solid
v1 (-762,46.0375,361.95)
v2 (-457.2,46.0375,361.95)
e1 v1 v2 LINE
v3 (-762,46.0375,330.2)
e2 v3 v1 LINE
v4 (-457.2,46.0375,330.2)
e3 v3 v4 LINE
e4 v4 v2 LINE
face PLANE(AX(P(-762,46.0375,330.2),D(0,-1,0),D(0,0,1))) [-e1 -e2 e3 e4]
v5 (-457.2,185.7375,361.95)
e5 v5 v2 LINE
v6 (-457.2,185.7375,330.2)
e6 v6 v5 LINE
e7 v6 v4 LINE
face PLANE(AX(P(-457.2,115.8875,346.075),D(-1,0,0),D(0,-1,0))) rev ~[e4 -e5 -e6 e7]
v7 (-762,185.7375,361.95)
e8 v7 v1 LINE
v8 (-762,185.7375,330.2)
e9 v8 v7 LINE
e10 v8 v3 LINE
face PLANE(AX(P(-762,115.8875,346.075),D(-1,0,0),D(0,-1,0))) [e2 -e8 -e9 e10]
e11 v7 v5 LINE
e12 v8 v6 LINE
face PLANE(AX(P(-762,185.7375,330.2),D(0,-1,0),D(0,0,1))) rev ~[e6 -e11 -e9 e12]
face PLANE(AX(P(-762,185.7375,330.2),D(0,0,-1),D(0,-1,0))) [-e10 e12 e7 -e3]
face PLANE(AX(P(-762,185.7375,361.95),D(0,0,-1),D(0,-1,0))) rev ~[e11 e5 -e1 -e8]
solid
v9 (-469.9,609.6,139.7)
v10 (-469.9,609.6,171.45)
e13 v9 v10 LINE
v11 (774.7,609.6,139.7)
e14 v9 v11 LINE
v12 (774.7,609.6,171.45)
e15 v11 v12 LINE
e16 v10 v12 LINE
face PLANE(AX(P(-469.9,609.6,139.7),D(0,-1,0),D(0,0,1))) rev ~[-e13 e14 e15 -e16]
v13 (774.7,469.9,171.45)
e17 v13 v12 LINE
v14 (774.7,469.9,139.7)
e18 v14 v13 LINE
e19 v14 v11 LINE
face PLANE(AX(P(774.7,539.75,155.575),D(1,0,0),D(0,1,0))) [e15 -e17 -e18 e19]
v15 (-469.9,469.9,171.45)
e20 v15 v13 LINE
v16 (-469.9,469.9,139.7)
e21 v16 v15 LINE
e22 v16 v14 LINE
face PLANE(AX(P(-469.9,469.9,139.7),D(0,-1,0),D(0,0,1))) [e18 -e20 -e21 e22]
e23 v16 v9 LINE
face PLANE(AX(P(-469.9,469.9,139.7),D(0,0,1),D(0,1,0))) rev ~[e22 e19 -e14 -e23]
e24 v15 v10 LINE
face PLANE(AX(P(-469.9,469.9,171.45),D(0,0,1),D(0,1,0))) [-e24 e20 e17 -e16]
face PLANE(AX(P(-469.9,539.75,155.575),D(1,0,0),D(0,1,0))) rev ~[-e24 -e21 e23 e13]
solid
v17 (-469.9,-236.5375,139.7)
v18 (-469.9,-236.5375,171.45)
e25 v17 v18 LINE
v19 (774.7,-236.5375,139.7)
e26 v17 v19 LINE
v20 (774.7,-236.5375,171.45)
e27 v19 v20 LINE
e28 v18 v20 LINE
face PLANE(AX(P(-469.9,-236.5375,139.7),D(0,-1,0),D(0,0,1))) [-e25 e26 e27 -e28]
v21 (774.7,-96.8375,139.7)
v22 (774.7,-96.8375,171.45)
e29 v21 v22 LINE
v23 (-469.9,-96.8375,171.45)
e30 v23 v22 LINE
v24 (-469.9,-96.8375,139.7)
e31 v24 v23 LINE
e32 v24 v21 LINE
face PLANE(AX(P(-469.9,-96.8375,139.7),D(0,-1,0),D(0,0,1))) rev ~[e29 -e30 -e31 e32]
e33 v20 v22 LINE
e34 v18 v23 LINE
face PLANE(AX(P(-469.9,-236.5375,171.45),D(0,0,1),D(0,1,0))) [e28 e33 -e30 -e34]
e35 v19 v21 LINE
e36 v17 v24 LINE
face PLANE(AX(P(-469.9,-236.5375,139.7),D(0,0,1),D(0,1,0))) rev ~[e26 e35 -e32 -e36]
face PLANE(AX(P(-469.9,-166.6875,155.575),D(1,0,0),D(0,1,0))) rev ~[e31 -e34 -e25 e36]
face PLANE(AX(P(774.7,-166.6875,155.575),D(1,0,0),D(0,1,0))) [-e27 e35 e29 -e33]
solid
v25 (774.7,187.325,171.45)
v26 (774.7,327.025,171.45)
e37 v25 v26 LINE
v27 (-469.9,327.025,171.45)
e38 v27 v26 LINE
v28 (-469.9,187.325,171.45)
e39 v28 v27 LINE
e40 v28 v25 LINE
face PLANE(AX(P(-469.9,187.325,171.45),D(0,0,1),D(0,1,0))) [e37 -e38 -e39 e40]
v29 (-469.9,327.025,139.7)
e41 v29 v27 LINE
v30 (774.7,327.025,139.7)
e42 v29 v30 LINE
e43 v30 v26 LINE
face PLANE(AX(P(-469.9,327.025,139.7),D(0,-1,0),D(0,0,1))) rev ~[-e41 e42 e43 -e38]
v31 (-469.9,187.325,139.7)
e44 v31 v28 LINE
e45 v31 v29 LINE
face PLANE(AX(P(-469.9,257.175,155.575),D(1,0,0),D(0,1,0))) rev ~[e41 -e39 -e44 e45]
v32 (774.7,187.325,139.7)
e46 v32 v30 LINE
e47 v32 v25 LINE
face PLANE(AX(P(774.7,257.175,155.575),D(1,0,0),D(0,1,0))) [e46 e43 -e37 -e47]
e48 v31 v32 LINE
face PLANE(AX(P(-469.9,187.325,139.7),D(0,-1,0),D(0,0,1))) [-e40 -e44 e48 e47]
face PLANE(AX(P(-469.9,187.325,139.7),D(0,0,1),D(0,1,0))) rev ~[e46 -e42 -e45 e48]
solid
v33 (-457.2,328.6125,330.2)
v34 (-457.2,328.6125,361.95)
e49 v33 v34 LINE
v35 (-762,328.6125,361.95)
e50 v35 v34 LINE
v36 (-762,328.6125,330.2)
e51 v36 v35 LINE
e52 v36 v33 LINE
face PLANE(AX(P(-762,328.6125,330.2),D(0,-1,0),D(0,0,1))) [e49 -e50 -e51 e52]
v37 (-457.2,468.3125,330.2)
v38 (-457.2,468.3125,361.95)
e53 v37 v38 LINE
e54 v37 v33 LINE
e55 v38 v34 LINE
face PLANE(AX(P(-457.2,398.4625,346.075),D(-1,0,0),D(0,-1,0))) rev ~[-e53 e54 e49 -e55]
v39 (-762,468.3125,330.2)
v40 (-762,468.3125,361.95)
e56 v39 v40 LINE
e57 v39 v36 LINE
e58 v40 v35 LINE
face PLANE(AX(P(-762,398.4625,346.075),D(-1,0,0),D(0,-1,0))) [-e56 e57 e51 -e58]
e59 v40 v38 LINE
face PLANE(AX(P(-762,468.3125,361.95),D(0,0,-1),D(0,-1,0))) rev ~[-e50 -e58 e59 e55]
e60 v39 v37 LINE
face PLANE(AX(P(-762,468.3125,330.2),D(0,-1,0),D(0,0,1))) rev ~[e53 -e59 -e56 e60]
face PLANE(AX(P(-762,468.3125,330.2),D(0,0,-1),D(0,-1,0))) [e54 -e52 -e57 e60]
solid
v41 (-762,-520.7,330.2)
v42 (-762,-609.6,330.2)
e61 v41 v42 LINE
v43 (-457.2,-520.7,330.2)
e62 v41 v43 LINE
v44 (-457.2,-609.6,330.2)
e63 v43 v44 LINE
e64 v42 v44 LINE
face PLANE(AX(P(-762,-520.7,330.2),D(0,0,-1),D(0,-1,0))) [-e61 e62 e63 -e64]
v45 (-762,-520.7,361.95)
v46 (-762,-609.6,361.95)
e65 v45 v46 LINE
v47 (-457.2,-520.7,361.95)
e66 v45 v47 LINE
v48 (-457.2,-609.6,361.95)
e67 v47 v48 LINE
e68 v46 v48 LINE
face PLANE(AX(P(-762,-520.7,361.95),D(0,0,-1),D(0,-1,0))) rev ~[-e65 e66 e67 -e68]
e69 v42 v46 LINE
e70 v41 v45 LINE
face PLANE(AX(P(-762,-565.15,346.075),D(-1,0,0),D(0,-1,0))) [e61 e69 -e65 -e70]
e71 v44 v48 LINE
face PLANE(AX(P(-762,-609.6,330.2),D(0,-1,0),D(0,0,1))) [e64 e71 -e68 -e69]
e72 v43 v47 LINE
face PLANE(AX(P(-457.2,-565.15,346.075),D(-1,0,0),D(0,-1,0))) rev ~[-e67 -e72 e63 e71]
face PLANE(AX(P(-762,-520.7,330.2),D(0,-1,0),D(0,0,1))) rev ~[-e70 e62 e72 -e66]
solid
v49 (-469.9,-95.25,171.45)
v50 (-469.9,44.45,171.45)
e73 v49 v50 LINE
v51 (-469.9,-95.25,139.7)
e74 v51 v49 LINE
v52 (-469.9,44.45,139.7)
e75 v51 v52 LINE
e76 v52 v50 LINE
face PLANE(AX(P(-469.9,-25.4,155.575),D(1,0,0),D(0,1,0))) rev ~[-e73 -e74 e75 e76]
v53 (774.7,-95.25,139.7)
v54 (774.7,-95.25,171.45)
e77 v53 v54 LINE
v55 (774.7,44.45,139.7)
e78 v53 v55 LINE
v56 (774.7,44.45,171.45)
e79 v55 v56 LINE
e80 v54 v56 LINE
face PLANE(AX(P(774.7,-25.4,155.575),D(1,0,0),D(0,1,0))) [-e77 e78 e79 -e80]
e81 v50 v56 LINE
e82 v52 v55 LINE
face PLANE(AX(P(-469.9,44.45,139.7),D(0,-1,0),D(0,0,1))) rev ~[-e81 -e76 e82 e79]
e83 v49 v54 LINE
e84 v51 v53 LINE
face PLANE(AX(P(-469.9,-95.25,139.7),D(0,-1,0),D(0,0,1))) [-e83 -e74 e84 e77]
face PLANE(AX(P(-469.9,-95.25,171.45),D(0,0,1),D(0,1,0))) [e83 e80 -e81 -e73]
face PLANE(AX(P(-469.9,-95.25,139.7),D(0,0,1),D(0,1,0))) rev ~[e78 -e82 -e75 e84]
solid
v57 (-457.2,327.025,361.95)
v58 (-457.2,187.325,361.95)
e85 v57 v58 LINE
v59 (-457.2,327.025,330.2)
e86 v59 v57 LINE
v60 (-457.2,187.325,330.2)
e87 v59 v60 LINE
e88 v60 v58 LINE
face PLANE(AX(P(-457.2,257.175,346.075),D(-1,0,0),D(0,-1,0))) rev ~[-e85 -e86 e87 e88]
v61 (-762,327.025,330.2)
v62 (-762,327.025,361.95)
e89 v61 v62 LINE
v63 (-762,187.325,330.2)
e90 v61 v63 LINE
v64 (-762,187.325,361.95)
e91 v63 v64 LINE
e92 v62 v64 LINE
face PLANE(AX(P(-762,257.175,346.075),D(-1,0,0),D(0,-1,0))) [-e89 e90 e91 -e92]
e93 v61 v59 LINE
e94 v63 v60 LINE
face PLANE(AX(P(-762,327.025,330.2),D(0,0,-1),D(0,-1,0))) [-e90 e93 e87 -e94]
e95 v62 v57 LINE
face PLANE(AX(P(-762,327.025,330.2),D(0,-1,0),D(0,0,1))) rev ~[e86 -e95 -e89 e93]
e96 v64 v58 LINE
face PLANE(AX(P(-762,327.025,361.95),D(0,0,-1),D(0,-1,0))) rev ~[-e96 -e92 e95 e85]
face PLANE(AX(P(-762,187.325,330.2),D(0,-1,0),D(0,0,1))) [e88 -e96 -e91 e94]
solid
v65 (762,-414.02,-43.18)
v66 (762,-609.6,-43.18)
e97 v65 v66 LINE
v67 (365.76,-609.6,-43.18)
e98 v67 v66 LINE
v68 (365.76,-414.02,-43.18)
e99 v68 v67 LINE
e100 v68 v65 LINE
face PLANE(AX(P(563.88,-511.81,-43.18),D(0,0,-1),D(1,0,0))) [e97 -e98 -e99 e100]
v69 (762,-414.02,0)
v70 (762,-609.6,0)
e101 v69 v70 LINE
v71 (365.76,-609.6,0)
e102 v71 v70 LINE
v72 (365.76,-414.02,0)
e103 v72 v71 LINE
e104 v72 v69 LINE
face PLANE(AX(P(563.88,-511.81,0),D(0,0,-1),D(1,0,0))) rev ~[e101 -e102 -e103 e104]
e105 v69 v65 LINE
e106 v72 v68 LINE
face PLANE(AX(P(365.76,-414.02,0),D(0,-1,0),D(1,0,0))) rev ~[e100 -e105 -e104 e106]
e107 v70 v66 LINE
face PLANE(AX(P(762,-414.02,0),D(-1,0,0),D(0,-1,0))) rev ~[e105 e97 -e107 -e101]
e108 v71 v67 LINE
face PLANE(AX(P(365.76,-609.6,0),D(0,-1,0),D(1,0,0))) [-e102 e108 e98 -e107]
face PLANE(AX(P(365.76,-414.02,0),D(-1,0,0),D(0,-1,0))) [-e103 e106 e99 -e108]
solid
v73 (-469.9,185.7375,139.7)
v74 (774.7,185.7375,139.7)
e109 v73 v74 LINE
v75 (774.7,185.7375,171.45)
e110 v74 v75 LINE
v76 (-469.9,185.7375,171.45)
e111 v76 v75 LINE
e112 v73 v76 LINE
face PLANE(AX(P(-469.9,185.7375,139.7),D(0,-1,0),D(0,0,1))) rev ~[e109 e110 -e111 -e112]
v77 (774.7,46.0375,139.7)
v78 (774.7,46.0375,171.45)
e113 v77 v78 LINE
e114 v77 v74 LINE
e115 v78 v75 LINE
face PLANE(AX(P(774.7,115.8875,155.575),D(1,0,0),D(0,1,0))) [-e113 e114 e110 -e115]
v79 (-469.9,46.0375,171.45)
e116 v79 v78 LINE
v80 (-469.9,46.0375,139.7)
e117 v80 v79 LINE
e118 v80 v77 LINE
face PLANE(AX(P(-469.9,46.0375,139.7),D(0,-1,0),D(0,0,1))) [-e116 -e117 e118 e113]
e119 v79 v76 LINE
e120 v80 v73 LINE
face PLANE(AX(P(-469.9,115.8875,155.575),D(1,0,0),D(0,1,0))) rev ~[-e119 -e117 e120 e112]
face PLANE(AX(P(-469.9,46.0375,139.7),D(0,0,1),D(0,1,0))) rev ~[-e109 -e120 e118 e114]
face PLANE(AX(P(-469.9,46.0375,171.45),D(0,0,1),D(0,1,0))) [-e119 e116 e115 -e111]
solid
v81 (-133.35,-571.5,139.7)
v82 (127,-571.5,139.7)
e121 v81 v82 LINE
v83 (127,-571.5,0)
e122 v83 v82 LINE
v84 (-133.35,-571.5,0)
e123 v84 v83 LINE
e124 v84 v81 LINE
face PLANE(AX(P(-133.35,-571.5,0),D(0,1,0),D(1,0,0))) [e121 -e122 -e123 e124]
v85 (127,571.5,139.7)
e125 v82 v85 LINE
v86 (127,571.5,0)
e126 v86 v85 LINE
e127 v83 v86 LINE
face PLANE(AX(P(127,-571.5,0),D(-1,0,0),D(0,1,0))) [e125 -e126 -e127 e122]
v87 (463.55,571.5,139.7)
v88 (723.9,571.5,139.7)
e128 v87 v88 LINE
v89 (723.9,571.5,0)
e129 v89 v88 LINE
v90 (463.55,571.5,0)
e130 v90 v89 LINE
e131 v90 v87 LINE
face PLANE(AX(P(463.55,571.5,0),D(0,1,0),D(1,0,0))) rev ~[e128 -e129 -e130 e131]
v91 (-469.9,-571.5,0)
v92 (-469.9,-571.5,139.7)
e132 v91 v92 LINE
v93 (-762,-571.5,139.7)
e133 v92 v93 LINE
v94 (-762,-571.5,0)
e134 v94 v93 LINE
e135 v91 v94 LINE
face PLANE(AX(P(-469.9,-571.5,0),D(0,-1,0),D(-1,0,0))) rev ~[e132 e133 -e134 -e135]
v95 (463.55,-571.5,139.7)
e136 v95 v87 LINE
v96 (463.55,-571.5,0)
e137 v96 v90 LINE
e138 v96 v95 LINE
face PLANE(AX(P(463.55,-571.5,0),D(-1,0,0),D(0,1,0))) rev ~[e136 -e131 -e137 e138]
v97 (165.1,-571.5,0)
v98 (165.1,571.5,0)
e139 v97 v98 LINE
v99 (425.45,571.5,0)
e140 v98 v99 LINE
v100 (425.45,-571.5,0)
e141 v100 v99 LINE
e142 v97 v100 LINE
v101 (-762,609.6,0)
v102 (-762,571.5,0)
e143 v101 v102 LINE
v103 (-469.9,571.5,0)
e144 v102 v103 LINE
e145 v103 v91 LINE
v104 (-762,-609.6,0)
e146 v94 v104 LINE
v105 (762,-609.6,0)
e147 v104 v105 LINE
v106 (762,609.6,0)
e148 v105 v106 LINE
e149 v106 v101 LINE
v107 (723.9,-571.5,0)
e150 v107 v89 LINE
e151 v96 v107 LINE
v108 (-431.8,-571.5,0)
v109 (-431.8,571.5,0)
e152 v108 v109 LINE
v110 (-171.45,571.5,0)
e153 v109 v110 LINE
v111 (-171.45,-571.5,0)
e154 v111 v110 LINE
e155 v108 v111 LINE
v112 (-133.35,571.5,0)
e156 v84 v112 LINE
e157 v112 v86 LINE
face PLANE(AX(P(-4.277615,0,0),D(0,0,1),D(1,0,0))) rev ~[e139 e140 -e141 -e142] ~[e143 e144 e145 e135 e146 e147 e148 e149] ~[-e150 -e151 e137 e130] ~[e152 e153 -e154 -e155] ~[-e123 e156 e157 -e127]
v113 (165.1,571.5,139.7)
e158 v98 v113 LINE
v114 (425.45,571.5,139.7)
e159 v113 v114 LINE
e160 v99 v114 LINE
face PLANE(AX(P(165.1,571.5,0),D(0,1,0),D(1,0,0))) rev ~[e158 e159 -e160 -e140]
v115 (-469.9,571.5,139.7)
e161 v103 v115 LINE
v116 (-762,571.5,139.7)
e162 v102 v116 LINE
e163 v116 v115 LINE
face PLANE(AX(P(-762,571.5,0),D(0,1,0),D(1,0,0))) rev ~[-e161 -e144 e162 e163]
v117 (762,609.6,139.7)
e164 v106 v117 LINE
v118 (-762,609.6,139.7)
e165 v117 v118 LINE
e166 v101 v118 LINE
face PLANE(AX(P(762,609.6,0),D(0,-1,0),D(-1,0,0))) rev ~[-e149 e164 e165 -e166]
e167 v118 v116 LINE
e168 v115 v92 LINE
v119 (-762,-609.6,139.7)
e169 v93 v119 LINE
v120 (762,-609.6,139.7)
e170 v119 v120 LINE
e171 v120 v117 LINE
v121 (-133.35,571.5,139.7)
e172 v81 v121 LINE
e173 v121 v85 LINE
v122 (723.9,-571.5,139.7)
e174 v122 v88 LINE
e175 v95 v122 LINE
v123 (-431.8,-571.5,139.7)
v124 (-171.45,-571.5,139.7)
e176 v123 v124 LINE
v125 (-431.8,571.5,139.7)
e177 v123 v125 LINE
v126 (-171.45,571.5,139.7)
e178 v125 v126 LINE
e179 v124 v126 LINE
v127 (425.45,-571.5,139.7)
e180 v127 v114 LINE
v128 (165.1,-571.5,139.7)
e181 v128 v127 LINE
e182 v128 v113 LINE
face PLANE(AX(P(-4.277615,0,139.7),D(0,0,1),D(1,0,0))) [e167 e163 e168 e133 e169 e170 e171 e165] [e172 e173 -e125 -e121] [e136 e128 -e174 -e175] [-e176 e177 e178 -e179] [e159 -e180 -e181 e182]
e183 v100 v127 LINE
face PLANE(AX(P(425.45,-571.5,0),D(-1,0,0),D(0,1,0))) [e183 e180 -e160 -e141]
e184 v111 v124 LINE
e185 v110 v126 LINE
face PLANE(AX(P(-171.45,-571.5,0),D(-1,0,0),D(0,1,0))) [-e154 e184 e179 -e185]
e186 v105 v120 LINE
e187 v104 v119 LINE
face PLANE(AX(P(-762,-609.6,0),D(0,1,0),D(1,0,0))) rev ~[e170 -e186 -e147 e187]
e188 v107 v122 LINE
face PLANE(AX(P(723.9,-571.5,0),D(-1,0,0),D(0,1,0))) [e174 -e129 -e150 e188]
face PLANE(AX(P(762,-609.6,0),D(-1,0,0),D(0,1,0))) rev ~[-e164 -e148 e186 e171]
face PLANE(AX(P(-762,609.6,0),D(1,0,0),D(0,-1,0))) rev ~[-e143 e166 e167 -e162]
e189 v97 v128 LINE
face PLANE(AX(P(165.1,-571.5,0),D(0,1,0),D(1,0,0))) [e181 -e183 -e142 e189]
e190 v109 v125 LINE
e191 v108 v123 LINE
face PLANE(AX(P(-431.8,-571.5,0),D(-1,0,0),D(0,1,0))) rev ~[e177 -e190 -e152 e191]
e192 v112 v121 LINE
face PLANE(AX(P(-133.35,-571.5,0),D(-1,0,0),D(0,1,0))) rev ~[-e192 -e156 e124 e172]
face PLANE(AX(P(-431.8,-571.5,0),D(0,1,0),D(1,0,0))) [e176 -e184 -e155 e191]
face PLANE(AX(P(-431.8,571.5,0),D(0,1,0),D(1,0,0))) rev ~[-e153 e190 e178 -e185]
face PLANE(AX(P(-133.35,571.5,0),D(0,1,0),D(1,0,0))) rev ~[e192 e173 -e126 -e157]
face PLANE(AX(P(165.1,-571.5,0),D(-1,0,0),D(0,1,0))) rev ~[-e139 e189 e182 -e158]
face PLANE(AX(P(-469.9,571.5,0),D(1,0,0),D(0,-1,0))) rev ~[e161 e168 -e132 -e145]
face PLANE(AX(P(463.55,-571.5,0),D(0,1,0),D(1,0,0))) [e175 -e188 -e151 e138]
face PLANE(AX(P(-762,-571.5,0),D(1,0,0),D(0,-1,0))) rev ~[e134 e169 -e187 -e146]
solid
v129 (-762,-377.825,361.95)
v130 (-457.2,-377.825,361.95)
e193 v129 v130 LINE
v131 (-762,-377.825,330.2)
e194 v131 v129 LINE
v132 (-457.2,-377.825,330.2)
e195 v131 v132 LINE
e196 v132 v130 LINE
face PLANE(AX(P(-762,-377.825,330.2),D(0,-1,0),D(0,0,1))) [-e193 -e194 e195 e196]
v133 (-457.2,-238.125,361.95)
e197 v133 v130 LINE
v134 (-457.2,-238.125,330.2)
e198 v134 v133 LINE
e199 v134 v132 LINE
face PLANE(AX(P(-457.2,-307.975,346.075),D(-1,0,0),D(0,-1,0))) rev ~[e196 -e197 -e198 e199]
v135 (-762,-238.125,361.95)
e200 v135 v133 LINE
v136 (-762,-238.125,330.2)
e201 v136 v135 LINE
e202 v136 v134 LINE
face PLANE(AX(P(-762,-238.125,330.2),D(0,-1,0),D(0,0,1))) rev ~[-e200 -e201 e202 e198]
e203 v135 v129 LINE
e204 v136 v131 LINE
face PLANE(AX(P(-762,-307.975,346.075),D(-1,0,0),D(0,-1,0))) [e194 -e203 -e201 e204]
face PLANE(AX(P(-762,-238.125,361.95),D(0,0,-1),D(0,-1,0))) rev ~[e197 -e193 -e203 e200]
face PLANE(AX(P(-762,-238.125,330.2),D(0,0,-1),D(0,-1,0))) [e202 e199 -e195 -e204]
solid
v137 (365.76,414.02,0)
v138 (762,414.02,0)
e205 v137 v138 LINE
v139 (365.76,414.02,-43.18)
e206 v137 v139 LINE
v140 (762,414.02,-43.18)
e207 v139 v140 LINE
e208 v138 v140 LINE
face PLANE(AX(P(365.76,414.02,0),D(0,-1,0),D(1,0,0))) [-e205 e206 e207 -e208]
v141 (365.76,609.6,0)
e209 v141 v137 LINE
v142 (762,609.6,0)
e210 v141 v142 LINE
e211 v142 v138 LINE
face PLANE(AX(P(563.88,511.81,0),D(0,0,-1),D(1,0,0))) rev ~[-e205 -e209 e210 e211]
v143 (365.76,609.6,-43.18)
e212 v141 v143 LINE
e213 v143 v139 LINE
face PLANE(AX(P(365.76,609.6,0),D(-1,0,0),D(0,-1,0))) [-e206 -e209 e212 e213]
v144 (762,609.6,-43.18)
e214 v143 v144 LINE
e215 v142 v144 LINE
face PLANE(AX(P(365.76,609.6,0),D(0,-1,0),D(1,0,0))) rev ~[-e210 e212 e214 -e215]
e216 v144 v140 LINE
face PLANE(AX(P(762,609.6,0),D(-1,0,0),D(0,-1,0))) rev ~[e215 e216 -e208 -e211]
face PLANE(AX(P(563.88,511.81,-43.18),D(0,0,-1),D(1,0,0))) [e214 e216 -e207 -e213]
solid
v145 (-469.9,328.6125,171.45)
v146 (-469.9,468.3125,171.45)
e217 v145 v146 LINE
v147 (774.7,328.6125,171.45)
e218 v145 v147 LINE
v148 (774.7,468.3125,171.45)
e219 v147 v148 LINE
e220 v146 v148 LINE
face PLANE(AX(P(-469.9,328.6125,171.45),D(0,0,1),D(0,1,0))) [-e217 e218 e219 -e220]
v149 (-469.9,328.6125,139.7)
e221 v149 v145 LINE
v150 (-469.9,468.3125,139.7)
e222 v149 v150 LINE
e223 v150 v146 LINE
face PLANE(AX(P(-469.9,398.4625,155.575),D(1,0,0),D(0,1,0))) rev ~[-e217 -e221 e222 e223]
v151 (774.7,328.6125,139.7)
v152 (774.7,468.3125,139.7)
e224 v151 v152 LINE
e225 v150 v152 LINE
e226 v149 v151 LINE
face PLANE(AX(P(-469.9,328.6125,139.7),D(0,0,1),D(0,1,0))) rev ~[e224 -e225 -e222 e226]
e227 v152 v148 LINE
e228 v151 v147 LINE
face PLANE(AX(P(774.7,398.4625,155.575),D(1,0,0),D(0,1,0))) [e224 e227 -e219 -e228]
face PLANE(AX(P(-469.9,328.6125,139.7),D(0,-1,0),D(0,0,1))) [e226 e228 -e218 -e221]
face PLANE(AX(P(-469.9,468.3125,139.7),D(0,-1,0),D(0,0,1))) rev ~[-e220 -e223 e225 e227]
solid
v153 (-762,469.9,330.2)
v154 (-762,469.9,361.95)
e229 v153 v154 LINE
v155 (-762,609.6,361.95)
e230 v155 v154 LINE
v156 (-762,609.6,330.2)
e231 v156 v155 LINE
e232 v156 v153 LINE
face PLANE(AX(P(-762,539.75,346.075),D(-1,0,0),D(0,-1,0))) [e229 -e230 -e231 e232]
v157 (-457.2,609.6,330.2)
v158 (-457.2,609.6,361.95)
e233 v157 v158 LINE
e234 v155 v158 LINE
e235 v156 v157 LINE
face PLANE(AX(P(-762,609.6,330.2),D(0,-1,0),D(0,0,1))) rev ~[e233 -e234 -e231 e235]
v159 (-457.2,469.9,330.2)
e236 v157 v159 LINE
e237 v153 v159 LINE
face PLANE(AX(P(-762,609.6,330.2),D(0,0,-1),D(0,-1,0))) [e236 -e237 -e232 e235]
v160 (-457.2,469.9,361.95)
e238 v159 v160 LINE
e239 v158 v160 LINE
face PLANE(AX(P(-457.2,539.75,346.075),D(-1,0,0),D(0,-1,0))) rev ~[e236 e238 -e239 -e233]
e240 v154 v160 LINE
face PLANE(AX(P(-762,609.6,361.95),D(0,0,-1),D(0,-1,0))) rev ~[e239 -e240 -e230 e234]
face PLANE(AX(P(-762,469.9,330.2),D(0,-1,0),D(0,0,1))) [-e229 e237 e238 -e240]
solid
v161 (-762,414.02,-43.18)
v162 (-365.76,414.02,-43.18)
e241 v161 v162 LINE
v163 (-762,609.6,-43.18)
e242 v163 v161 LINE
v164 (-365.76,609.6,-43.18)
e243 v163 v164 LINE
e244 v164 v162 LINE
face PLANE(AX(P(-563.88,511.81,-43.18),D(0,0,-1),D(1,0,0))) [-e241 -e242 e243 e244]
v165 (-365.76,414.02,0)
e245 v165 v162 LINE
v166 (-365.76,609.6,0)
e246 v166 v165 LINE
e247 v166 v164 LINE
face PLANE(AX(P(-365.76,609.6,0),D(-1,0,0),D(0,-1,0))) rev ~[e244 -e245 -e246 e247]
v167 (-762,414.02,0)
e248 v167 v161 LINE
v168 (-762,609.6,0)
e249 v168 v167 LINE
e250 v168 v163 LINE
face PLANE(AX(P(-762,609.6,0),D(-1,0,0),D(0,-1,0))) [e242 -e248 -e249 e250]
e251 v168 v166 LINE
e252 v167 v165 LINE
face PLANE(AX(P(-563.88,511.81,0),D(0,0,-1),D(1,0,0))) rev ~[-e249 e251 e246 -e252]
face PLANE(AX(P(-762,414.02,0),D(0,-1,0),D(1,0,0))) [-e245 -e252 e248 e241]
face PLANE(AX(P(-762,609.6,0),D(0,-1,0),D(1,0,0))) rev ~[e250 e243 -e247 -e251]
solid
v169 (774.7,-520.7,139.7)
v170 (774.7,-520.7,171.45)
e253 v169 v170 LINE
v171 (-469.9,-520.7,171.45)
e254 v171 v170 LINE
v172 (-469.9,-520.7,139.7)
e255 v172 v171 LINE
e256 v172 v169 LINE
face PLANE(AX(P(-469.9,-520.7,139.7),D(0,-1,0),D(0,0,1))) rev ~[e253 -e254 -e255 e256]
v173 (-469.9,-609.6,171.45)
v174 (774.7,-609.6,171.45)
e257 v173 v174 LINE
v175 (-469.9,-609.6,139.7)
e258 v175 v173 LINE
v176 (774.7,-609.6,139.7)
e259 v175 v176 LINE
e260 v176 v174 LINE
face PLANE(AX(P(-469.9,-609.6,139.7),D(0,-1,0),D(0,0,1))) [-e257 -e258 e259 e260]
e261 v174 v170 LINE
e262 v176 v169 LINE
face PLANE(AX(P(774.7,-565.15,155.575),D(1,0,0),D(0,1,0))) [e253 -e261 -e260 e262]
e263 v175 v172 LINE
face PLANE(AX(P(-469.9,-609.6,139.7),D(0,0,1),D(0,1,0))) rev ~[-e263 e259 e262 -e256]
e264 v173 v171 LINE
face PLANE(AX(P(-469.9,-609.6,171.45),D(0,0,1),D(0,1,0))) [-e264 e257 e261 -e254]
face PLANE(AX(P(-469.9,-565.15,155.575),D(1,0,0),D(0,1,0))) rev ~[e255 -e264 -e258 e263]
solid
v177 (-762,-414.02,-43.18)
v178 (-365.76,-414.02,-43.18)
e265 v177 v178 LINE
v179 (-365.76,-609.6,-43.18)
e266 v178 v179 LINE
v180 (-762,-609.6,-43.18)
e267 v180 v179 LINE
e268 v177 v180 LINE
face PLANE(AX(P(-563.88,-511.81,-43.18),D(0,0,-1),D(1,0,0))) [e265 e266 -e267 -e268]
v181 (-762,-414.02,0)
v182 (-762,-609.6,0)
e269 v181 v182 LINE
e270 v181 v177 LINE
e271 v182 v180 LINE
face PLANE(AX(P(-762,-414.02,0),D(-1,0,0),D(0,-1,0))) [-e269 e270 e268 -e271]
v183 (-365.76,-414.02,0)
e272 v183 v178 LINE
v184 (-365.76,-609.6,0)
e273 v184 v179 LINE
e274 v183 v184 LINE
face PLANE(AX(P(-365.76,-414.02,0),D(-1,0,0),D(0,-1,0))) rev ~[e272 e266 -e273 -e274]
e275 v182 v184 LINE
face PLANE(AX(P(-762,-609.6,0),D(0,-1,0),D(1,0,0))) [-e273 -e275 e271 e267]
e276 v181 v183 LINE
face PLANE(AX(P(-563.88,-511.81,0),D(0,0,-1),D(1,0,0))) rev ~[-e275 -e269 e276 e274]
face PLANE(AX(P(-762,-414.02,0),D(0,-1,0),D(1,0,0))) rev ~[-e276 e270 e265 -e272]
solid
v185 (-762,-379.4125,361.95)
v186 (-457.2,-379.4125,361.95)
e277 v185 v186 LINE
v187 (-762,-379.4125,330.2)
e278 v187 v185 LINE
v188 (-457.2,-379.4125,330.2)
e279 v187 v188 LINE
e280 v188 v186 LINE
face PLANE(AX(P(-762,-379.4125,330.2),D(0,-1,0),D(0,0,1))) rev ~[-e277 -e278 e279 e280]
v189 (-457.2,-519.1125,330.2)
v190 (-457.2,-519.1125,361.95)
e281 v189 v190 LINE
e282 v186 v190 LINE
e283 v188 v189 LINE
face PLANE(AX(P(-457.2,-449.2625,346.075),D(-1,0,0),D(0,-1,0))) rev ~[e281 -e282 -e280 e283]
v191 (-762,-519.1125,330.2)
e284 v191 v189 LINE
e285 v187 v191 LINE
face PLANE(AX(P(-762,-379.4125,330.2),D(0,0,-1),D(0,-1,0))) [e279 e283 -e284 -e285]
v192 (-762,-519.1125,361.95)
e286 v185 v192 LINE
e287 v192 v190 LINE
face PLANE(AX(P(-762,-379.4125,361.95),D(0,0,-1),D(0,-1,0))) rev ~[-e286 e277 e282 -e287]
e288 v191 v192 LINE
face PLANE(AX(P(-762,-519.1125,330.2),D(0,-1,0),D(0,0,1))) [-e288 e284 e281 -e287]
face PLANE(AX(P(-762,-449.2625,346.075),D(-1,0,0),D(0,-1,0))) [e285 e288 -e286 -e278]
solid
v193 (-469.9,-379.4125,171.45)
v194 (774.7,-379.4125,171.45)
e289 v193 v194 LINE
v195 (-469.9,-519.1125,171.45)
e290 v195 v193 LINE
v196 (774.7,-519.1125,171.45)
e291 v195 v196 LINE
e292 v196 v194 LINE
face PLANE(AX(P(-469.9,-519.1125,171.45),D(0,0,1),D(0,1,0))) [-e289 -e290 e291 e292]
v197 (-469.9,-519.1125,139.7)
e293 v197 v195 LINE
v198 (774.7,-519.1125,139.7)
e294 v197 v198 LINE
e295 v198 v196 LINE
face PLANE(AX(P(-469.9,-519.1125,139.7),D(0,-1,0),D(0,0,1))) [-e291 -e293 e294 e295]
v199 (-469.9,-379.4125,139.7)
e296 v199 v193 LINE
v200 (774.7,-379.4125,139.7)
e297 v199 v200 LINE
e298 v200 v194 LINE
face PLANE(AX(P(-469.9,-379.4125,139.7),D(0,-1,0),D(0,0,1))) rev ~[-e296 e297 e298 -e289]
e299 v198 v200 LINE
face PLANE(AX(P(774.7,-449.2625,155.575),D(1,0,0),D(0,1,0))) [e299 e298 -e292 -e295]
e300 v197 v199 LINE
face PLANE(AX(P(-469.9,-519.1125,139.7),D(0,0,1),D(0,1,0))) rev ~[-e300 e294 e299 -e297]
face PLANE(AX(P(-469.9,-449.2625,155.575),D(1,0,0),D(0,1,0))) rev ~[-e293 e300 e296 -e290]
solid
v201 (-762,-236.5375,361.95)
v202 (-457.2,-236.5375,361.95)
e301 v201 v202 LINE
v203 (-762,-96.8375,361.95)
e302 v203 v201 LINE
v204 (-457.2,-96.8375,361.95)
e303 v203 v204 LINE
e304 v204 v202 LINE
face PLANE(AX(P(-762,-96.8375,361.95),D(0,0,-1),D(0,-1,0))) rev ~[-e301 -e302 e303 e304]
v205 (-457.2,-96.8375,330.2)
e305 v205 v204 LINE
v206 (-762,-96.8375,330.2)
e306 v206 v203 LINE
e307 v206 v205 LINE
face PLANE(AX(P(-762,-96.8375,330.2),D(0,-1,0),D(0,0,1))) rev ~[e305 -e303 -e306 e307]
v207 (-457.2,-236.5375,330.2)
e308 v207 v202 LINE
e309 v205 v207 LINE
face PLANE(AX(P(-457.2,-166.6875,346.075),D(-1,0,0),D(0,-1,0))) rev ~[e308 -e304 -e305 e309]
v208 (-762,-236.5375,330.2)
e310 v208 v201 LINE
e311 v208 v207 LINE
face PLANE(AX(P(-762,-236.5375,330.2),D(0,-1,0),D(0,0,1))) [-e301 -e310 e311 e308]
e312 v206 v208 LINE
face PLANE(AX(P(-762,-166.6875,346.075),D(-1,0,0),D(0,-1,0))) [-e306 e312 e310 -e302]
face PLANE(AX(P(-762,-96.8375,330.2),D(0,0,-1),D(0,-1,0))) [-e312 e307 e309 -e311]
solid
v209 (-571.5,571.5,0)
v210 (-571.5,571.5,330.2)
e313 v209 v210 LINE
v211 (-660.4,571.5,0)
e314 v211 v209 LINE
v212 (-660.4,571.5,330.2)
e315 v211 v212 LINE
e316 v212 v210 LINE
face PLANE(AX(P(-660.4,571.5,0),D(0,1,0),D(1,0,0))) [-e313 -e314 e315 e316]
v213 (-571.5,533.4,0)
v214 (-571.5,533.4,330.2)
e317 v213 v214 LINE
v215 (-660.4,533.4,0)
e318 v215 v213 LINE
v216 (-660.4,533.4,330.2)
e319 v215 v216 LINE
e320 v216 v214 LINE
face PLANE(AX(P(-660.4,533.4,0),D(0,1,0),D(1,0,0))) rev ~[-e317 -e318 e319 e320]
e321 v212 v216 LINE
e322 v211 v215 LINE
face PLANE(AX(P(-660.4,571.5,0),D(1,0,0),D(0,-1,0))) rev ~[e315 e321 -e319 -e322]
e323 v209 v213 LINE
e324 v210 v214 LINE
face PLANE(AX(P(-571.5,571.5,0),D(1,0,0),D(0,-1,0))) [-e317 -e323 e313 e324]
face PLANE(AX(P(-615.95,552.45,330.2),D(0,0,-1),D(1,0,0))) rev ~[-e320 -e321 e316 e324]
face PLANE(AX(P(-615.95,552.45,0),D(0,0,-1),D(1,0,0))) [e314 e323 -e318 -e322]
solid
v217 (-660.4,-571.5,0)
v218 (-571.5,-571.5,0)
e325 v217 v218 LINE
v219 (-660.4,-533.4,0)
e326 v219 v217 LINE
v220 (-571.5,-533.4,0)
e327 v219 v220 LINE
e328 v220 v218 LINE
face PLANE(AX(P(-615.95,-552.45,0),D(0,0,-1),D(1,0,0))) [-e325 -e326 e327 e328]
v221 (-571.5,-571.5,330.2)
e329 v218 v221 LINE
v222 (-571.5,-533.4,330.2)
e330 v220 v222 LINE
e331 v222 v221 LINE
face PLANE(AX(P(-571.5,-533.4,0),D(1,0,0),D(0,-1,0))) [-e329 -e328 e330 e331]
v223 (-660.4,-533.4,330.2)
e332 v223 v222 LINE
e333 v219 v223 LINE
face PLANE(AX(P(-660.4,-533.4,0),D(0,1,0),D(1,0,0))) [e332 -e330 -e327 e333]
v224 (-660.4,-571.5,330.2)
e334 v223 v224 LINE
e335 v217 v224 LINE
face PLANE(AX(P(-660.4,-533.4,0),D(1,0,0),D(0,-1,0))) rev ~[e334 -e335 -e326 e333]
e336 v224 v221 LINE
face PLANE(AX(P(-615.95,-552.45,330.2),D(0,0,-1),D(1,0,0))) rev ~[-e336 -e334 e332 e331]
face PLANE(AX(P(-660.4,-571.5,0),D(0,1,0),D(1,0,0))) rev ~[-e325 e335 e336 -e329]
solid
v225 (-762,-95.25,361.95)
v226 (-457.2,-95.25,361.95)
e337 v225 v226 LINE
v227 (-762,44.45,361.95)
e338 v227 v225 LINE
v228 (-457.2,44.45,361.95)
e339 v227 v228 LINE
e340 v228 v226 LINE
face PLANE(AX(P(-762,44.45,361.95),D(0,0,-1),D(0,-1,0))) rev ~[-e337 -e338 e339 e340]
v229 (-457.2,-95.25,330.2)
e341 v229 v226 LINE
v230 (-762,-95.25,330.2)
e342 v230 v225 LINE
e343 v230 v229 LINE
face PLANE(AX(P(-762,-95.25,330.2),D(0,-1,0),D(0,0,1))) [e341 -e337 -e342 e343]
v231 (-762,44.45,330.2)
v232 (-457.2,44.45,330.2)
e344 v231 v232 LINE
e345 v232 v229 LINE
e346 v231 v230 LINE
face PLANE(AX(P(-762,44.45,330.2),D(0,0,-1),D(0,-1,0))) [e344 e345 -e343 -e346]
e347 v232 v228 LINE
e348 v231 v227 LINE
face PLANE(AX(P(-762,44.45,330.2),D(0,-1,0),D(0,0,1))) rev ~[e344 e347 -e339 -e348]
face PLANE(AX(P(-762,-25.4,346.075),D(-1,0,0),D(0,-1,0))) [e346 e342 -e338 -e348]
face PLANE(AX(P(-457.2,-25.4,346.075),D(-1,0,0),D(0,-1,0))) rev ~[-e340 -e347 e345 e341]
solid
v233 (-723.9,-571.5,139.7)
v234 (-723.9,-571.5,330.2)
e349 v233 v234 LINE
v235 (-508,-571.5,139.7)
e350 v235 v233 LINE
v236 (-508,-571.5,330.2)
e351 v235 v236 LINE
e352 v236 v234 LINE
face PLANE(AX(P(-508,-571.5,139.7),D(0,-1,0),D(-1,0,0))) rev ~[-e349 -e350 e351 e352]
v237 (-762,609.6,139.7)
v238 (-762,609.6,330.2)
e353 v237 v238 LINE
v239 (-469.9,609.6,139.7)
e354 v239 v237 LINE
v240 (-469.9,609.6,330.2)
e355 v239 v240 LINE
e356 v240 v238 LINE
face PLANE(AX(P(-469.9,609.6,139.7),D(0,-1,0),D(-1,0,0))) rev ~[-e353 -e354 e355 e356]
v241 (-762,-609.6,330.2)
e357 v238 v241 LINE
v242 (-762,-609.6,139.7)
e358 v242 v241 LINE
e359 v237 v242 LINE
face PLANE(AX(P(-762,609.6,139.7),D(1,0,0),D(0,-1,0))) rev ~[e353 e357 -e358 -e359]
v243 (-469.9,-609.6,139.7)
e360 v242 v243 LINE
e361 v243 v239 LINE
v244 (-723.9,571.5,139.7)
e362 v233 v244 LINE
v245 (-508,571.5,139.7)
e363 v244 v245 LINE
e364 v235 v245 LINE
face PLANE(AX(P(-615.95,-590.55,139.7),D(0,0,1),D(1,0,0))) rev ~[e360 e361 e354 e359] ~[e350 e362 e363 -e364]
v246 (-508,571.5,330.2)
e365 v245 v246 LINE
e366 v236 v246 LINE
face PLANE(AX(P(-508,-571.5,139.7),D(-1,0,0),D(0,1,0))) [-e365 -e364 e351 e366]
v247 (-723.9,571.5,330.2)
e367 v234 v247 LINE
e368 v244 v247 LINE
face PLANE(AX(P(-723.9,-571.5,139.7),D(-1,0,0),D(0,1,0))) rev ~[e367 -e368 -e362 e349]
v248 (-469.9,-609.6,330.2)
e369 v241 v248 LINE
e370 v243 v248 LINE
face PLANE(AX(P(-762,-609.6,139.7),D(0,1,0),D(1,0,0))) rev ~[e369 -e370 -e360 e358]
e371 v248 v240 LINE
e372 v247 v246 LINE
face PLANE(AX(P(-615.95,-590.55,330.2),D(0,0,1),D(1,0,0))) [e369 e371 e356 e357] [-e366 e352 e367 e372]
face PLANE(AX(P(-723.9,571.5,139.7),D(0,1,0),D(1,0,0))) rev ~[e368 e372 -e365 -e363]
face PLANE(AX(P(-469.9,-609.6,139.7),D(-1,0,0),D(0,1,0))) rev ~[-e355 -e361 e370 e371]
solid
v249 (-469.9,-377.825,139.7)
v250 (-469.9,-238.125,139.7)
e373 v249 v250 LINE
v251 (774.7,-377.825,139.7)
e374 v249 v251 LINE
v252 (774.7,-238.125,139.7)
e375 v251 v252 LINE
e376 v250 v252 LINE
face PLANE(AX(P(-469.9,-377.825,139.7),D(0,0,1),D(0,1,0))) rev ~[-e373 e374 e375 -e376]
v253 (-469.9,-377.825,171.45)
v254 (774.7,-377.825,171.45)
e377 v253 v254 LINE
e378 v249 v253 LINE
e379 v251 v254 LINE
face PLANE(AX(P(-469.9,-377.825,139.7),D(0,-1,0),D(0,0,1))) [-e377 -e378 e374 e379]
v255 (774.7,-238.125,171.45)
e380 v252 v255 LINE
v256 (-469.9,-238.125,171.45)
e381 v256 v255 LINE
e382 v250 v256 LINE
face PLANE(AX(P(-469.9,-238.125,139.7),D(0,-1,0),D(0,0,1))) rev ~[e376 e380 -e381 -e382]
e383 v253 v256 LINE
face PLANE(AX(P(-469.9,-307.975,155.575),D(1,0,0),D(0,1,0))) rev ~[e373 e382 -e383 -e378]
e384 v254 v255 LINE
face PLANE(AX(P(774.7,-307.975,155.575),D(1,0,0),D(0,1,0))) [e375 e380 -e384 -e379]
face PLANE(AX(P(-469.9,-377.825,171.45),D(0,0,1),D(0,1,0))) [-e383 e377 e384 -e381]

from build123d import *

# Parameters (mm, degrees)
F0_W      = 260.35
F0_H      = 1143
F1_DEPTH  = 139.7
F2_W      = 38.1
F2_H      = 1143
F3_DEPTH  = 190.5
F4_W      = 139.7
F4_H      = 31.75
F5_DEPTH  = 304.8
F4_W_2    = 88.9
F6_W      = 88.9
F6_H      = 31.75
F7_DEPTH  = 1244.6
F6_W_2    = 139.7
F8_W      = 88.9
F8_H      = 38.1
F9_DEPTH  = 330.2
F10_W     = 396.24
F10_H     = 195.58
F11_DEPTH = 43.18


with BuildPart() as f1:
    # F0 (on Top) → F1 (new body)
    with BuildSketch(Plane.XY):
        Polygon((762, 609.6), (-762, 609.6), (-762, 571.5), (-469.9, 571.5), (-469.9, -571.5), (-762, -571.5), (-762, -609.6), (762, -609.6), align=None)
        with Locations((-301.625, 0)):
            Rectangle(F0_W, F0_H, mode=Mode.SUBTRACT)
        with Locations((-3.175, 0)):
            Rectangle(F0_W, F0_H, mode=Mode.SUBTRACT)
        with Locations((295.275, 0)):
            Rectangle(F0_W, F0_H, mode=Mode.SUBTRACT)
        with Locations((593.725, 0)):
            Rectangle(F0_W, F0_H, mode=Mode.SUBTRACT)
    extrude(amount=F1_DEPTH)


with BuildPart() as f3:
    # F2 (on face) → F3 (new body)
    with BuildSketch(Plane.XY.offset(139.7)):
        Polygon((-762, -571.5), (-762, -609.6), (-469.9, -609.6), (-469.9, -571.5), (-508, -571.5), (-723.9, -571.5), align=None)
        with Locations((-488.95, 0)):
            Rectangle(F2_W, F2_H)
        Polygon((-762, 609.6), (-762, 571.5), (-723.9, 571.5), (-508, 571.5), (-469.9, 571.5), (-469.9, 609.6), align=None)
        with Locations((-742.95, 0)):
            Rectangle(F2_W, F2_H)
    extrude(amount=F3_DEPTH)


with BuildPart() as f5:
    # F4 (on face) → F5 (new body)
    with BuildSketch(Plane(origin=(-762, 0, 0), x_dir=(0, -1, 0), z_dir=(-1, 0, 0))):
        with Locations((-539.75, 346.075)):
            Rectangle(F4_W, F4_H)
    extrude(amount=-F5_DEPTH)


with BuildPart() as f5b:
    # F4 (on face) → F5, piece 2 (new body)
    with BuildSketch(Plane(origin=(-762, 0, 0), x_dir=(0, -1, 0), z_dir=(-1, 0, 0))):
        with Locations((-398.4625, 346.075)):
            Rectangle(F4_W, F4_H)
    extrude(amount=-F5_DEPTH)


with BuildPart() as f5c:
    # F4 (on face) → F5, piece 3 (new body)
    with BuildSketch(Plane(origin=(-762, 0, 0), x_dir=(0, -1, 0), z_dir=(-1, 0, 0))):
        with Locations((-257.175, 346.075)):
            Rectangle(F4_W, F4_H)
    extrude(amount=-F5_DEPTH)


with BuildPart() as f5d:
    # F4 (on face) → F5, piece 4 (new body)
    with BuildSketch(Plane(origin=(-762, 0, 0), x_dir=(0, -1, 0), z_dir=(-1, 0, 0))):
        with Locations((-115.8875, 346.075)):
            Rectangle(F4_W, F4_H)
    extrude(amount=-F5_DEPTH)


with BuildPart() as f5e:
    # F4 (on face) → F5, piece 5 (new body)
    with BuildSketch(Plane(origin=(-762, 0, 0), x_dir=(0, -1, 0), z_dir=(-1, 0, 0))):
        with Locations((25.4, 346.075)):
            Rectangle(F4_W, F4_H)
    extrude(amount=-F5_DEPTH)


with BuildPart() as f5f:
    # F4 (on face) → F5, piece 6 (new body)
    with BuildSketch(Plane(origin=(-762, 0, 0), x_dir=(0, -1, 0), z_dir=(-1, 0, 0))):
        with Locations((166.6875, 346.075)):
            Rectangle(F4_W, F4_H)
    extrude(amount=-F5_DEPTH)


with BuildPart() as f5g:
    # F4 (on face) → F5, piece 7 (new body)
    with BuildSketch(Plane(origin=(-762, 0, 0), x_dir=(0, -1, 0), z_dir=(-1, 0, 0))):
        with Locations((307.975, 346.075)):
            Rectangle(F4_W, F4_H)
    extrude(amount=-F5_DEPTH)


with BuildPart() as f5h:
    # F4 (on face) → F5, piece 8 (new body)
    with BuildSketch(Plane(origin=(-762, 0, 0), x_dir=(0, -1, 0), z_dir=(-1, 0, 0))):
        with Locations((449.2625, 346.075)):
            Rectangle(F4_W, F4_H)
    extrude(amount=-F5_DEPTH)


with BuildPart() as f5i:
    # F4 (on face) → F5, piece 9 (new body)
    with BuildSketch(Plane(origin=(-762, 0, 0), x_dir=(0, -1, 0), z_dir=(-1, 0, 0))):
        with Locations((565.15, 346.075)):
            Rectangle(F4_W_2, F4_H)
    extrude(amount=-F5_DEPTH)


with BuildPart() as f7:
    # F6 (on face) → F7 (new body)
    with BuildSketch(Plane.YZ.offset(-469.9)):
        with Locations((-565.15, 155.575)):
            Rectangle(F6_W, F6_H)
    extrude(amount=F7_DEPTH)


with BuildPart() as f7b:
    # F6 (on face) → F7, piece 2 (new body)
    with BuildSketch(Plane.YZ.offset(-469.9)):
        with Locations((-449.2625, 155.575)):
            Rectangle(F6_W_2, F6_H)
    extrude(amount=F7_DEPTH)


with BuildPart() as f7c:
    # F6 (on face) → F7, piece 3 (new body)
    with BuildSketch(Plane.YZ.offset(-469.9)):
        with Locations((-307.975, 155.575)):
            Rectangle(F6_W_2, F6_H)
    extrude(amount=F7_DEPTH)


with BuildPart() as f7d:
    # F6 (on face) → F7, piece 4 (new body)
    with BuildSketch(Plane.YZ.offset(-469.9)):
        with Locations((-166.6875, 155.575)):
            Rectangle(F6_W_2, F6_H)
    extrude(amount=F7_DEPTH)


with BuildPart() as f7e:
    # F6 (on face) → F7, piece 5 (new body)
    with BuildSketch(Plane.YZ.offset(-469.9)):
        with Locations((-25.4, 155.575)):
            Rectangle(F6_W_2, F6_H)
    extrude(amount=F7_DEPTH)


with BuildPart() as f7f:
    # F6 (on face) → F7, piece 6 (new body)
    with BuildSketch(Plane.YZ.offset(-469.9)):
        with Locations((115.8875, 155.575)):
            Rectangle(F6_W_2, F6_H)
    extrude(amount=F7_DEPTH)


with BuildPart() as f7g:
    # F6 (on face) → F7, piece 7 (new body)
    with BuildSketch(Plane.YZ.offset(-469.9)):
        with Locations((257.175, 155.575)):
            Rectangle(F6_W_2, F6_H)
    extrude(amount=F7_DEPTH)


with BuildPart() as f7h:
    # F6 (on face) → F7, piece 8 (new body)
    with BuildSketch(Plane.YZ.offset(-469.9)):
        with Locations((398.4625, 155.575)):
            Rectangle(F6_W_2, F6_H)
    extrude(amount=F7_DEPTH)


with BuildPart() as f7i:
    # F6 (on face) → F7, piece 9 (new body)
    with BuildSketch(Plane.YZ.offset(-469.9)):
        with Locations((539.75, 155.575)):
            Rectangle(F6_W_2, F6_H)
    extrude(amount=F7_DEPTH)


with BuildPart() as f9:
    # F8 (on face) → F9 (new body, through all)
    with BuildSketch(Plane(origin=(0, 0, 0), x_dir=(1, 0, 0), z_dir=(0, 0, -1))):
        with Locations((-615.95, 552.45)):
            Rectangle(F8_W, F8_H)
    extrude(amount=-F9_DEPTH)


with BuildPart() as f9b:
    # F8 (on face) → F9, piece 2 (new body, through all)
    with BuildSketch(Plane(origin=(0, 0, 0), x_dir=(1, 0, 0), z_dir=(0, 0, -1))):
        with Locations((-615.95, -552.45)):
            Rectangle(F8_W, F8_H)
    extrude(amount=-F9_DEPTH)


with BuildPart() as f11:
    # F10 (on face) → F11 (new body)
    with BuildSketch(Plane(origin=(0, 0, 0), x_dir=(1, 0, 0), z_dir=(0, 0, -1))):
        with Locations((-563.88, 511.81)):
            Rectangle(F10_W, F10_H)
    extrude(amount=F11_DEPTH)


with BuildPart() as f11b:
    # F10 (on face) → F11, piece 2 (new body)
    with BuildSketch(Plane(origin=(0, 0, 0), x_dir=(1, 0, 0), z_dir=(0, 0, -1))):
        with Locations((563.88, 511.81)):
            Rectangle(F10_W, F10_H)
    extrude(amount=F11_DEPTH)


with BuildPart() as f11c:
    # F10 (on face) → F11, piece 3 (new body)
    with BuildSketch(Plane(origin=(0, 0, 0), x_dir=(1, 0, 0), z_dir=(0, 0, -1))):
        with Locations((-563.88, -511.81)):
            Rectangle(F10_W, F10_H)
    extrude(amount=F11_DEPTH)


with BuildPart() as f11d:
    # F10 (on face) → F11, piece 4 (new body)
    with BuildSketch(Plane(origin=(0, 0, 0), x_dir=(1, 0, 0), z_dir=(0, 0, -1))):
        with Locations((563.88, -511.81)):
            Rectangle(F10_W, F10_H)
    extrude(amount=F11_DEPTH)


solid = Compound([f1.part, f3.part, f5.part, f5b.part, f5c.part, f5d.part, f5e.part, f5f.part, f5g.part, f5h.part, f5i.part, f7.part, f7b.part, f7c.part, f7d.part, f7e.part, f7f.part, f7g.part, f7h.part, f7i.part, f9.part, f9b.part, f11.part, f11b.part, f11c.part, f11d.part])
